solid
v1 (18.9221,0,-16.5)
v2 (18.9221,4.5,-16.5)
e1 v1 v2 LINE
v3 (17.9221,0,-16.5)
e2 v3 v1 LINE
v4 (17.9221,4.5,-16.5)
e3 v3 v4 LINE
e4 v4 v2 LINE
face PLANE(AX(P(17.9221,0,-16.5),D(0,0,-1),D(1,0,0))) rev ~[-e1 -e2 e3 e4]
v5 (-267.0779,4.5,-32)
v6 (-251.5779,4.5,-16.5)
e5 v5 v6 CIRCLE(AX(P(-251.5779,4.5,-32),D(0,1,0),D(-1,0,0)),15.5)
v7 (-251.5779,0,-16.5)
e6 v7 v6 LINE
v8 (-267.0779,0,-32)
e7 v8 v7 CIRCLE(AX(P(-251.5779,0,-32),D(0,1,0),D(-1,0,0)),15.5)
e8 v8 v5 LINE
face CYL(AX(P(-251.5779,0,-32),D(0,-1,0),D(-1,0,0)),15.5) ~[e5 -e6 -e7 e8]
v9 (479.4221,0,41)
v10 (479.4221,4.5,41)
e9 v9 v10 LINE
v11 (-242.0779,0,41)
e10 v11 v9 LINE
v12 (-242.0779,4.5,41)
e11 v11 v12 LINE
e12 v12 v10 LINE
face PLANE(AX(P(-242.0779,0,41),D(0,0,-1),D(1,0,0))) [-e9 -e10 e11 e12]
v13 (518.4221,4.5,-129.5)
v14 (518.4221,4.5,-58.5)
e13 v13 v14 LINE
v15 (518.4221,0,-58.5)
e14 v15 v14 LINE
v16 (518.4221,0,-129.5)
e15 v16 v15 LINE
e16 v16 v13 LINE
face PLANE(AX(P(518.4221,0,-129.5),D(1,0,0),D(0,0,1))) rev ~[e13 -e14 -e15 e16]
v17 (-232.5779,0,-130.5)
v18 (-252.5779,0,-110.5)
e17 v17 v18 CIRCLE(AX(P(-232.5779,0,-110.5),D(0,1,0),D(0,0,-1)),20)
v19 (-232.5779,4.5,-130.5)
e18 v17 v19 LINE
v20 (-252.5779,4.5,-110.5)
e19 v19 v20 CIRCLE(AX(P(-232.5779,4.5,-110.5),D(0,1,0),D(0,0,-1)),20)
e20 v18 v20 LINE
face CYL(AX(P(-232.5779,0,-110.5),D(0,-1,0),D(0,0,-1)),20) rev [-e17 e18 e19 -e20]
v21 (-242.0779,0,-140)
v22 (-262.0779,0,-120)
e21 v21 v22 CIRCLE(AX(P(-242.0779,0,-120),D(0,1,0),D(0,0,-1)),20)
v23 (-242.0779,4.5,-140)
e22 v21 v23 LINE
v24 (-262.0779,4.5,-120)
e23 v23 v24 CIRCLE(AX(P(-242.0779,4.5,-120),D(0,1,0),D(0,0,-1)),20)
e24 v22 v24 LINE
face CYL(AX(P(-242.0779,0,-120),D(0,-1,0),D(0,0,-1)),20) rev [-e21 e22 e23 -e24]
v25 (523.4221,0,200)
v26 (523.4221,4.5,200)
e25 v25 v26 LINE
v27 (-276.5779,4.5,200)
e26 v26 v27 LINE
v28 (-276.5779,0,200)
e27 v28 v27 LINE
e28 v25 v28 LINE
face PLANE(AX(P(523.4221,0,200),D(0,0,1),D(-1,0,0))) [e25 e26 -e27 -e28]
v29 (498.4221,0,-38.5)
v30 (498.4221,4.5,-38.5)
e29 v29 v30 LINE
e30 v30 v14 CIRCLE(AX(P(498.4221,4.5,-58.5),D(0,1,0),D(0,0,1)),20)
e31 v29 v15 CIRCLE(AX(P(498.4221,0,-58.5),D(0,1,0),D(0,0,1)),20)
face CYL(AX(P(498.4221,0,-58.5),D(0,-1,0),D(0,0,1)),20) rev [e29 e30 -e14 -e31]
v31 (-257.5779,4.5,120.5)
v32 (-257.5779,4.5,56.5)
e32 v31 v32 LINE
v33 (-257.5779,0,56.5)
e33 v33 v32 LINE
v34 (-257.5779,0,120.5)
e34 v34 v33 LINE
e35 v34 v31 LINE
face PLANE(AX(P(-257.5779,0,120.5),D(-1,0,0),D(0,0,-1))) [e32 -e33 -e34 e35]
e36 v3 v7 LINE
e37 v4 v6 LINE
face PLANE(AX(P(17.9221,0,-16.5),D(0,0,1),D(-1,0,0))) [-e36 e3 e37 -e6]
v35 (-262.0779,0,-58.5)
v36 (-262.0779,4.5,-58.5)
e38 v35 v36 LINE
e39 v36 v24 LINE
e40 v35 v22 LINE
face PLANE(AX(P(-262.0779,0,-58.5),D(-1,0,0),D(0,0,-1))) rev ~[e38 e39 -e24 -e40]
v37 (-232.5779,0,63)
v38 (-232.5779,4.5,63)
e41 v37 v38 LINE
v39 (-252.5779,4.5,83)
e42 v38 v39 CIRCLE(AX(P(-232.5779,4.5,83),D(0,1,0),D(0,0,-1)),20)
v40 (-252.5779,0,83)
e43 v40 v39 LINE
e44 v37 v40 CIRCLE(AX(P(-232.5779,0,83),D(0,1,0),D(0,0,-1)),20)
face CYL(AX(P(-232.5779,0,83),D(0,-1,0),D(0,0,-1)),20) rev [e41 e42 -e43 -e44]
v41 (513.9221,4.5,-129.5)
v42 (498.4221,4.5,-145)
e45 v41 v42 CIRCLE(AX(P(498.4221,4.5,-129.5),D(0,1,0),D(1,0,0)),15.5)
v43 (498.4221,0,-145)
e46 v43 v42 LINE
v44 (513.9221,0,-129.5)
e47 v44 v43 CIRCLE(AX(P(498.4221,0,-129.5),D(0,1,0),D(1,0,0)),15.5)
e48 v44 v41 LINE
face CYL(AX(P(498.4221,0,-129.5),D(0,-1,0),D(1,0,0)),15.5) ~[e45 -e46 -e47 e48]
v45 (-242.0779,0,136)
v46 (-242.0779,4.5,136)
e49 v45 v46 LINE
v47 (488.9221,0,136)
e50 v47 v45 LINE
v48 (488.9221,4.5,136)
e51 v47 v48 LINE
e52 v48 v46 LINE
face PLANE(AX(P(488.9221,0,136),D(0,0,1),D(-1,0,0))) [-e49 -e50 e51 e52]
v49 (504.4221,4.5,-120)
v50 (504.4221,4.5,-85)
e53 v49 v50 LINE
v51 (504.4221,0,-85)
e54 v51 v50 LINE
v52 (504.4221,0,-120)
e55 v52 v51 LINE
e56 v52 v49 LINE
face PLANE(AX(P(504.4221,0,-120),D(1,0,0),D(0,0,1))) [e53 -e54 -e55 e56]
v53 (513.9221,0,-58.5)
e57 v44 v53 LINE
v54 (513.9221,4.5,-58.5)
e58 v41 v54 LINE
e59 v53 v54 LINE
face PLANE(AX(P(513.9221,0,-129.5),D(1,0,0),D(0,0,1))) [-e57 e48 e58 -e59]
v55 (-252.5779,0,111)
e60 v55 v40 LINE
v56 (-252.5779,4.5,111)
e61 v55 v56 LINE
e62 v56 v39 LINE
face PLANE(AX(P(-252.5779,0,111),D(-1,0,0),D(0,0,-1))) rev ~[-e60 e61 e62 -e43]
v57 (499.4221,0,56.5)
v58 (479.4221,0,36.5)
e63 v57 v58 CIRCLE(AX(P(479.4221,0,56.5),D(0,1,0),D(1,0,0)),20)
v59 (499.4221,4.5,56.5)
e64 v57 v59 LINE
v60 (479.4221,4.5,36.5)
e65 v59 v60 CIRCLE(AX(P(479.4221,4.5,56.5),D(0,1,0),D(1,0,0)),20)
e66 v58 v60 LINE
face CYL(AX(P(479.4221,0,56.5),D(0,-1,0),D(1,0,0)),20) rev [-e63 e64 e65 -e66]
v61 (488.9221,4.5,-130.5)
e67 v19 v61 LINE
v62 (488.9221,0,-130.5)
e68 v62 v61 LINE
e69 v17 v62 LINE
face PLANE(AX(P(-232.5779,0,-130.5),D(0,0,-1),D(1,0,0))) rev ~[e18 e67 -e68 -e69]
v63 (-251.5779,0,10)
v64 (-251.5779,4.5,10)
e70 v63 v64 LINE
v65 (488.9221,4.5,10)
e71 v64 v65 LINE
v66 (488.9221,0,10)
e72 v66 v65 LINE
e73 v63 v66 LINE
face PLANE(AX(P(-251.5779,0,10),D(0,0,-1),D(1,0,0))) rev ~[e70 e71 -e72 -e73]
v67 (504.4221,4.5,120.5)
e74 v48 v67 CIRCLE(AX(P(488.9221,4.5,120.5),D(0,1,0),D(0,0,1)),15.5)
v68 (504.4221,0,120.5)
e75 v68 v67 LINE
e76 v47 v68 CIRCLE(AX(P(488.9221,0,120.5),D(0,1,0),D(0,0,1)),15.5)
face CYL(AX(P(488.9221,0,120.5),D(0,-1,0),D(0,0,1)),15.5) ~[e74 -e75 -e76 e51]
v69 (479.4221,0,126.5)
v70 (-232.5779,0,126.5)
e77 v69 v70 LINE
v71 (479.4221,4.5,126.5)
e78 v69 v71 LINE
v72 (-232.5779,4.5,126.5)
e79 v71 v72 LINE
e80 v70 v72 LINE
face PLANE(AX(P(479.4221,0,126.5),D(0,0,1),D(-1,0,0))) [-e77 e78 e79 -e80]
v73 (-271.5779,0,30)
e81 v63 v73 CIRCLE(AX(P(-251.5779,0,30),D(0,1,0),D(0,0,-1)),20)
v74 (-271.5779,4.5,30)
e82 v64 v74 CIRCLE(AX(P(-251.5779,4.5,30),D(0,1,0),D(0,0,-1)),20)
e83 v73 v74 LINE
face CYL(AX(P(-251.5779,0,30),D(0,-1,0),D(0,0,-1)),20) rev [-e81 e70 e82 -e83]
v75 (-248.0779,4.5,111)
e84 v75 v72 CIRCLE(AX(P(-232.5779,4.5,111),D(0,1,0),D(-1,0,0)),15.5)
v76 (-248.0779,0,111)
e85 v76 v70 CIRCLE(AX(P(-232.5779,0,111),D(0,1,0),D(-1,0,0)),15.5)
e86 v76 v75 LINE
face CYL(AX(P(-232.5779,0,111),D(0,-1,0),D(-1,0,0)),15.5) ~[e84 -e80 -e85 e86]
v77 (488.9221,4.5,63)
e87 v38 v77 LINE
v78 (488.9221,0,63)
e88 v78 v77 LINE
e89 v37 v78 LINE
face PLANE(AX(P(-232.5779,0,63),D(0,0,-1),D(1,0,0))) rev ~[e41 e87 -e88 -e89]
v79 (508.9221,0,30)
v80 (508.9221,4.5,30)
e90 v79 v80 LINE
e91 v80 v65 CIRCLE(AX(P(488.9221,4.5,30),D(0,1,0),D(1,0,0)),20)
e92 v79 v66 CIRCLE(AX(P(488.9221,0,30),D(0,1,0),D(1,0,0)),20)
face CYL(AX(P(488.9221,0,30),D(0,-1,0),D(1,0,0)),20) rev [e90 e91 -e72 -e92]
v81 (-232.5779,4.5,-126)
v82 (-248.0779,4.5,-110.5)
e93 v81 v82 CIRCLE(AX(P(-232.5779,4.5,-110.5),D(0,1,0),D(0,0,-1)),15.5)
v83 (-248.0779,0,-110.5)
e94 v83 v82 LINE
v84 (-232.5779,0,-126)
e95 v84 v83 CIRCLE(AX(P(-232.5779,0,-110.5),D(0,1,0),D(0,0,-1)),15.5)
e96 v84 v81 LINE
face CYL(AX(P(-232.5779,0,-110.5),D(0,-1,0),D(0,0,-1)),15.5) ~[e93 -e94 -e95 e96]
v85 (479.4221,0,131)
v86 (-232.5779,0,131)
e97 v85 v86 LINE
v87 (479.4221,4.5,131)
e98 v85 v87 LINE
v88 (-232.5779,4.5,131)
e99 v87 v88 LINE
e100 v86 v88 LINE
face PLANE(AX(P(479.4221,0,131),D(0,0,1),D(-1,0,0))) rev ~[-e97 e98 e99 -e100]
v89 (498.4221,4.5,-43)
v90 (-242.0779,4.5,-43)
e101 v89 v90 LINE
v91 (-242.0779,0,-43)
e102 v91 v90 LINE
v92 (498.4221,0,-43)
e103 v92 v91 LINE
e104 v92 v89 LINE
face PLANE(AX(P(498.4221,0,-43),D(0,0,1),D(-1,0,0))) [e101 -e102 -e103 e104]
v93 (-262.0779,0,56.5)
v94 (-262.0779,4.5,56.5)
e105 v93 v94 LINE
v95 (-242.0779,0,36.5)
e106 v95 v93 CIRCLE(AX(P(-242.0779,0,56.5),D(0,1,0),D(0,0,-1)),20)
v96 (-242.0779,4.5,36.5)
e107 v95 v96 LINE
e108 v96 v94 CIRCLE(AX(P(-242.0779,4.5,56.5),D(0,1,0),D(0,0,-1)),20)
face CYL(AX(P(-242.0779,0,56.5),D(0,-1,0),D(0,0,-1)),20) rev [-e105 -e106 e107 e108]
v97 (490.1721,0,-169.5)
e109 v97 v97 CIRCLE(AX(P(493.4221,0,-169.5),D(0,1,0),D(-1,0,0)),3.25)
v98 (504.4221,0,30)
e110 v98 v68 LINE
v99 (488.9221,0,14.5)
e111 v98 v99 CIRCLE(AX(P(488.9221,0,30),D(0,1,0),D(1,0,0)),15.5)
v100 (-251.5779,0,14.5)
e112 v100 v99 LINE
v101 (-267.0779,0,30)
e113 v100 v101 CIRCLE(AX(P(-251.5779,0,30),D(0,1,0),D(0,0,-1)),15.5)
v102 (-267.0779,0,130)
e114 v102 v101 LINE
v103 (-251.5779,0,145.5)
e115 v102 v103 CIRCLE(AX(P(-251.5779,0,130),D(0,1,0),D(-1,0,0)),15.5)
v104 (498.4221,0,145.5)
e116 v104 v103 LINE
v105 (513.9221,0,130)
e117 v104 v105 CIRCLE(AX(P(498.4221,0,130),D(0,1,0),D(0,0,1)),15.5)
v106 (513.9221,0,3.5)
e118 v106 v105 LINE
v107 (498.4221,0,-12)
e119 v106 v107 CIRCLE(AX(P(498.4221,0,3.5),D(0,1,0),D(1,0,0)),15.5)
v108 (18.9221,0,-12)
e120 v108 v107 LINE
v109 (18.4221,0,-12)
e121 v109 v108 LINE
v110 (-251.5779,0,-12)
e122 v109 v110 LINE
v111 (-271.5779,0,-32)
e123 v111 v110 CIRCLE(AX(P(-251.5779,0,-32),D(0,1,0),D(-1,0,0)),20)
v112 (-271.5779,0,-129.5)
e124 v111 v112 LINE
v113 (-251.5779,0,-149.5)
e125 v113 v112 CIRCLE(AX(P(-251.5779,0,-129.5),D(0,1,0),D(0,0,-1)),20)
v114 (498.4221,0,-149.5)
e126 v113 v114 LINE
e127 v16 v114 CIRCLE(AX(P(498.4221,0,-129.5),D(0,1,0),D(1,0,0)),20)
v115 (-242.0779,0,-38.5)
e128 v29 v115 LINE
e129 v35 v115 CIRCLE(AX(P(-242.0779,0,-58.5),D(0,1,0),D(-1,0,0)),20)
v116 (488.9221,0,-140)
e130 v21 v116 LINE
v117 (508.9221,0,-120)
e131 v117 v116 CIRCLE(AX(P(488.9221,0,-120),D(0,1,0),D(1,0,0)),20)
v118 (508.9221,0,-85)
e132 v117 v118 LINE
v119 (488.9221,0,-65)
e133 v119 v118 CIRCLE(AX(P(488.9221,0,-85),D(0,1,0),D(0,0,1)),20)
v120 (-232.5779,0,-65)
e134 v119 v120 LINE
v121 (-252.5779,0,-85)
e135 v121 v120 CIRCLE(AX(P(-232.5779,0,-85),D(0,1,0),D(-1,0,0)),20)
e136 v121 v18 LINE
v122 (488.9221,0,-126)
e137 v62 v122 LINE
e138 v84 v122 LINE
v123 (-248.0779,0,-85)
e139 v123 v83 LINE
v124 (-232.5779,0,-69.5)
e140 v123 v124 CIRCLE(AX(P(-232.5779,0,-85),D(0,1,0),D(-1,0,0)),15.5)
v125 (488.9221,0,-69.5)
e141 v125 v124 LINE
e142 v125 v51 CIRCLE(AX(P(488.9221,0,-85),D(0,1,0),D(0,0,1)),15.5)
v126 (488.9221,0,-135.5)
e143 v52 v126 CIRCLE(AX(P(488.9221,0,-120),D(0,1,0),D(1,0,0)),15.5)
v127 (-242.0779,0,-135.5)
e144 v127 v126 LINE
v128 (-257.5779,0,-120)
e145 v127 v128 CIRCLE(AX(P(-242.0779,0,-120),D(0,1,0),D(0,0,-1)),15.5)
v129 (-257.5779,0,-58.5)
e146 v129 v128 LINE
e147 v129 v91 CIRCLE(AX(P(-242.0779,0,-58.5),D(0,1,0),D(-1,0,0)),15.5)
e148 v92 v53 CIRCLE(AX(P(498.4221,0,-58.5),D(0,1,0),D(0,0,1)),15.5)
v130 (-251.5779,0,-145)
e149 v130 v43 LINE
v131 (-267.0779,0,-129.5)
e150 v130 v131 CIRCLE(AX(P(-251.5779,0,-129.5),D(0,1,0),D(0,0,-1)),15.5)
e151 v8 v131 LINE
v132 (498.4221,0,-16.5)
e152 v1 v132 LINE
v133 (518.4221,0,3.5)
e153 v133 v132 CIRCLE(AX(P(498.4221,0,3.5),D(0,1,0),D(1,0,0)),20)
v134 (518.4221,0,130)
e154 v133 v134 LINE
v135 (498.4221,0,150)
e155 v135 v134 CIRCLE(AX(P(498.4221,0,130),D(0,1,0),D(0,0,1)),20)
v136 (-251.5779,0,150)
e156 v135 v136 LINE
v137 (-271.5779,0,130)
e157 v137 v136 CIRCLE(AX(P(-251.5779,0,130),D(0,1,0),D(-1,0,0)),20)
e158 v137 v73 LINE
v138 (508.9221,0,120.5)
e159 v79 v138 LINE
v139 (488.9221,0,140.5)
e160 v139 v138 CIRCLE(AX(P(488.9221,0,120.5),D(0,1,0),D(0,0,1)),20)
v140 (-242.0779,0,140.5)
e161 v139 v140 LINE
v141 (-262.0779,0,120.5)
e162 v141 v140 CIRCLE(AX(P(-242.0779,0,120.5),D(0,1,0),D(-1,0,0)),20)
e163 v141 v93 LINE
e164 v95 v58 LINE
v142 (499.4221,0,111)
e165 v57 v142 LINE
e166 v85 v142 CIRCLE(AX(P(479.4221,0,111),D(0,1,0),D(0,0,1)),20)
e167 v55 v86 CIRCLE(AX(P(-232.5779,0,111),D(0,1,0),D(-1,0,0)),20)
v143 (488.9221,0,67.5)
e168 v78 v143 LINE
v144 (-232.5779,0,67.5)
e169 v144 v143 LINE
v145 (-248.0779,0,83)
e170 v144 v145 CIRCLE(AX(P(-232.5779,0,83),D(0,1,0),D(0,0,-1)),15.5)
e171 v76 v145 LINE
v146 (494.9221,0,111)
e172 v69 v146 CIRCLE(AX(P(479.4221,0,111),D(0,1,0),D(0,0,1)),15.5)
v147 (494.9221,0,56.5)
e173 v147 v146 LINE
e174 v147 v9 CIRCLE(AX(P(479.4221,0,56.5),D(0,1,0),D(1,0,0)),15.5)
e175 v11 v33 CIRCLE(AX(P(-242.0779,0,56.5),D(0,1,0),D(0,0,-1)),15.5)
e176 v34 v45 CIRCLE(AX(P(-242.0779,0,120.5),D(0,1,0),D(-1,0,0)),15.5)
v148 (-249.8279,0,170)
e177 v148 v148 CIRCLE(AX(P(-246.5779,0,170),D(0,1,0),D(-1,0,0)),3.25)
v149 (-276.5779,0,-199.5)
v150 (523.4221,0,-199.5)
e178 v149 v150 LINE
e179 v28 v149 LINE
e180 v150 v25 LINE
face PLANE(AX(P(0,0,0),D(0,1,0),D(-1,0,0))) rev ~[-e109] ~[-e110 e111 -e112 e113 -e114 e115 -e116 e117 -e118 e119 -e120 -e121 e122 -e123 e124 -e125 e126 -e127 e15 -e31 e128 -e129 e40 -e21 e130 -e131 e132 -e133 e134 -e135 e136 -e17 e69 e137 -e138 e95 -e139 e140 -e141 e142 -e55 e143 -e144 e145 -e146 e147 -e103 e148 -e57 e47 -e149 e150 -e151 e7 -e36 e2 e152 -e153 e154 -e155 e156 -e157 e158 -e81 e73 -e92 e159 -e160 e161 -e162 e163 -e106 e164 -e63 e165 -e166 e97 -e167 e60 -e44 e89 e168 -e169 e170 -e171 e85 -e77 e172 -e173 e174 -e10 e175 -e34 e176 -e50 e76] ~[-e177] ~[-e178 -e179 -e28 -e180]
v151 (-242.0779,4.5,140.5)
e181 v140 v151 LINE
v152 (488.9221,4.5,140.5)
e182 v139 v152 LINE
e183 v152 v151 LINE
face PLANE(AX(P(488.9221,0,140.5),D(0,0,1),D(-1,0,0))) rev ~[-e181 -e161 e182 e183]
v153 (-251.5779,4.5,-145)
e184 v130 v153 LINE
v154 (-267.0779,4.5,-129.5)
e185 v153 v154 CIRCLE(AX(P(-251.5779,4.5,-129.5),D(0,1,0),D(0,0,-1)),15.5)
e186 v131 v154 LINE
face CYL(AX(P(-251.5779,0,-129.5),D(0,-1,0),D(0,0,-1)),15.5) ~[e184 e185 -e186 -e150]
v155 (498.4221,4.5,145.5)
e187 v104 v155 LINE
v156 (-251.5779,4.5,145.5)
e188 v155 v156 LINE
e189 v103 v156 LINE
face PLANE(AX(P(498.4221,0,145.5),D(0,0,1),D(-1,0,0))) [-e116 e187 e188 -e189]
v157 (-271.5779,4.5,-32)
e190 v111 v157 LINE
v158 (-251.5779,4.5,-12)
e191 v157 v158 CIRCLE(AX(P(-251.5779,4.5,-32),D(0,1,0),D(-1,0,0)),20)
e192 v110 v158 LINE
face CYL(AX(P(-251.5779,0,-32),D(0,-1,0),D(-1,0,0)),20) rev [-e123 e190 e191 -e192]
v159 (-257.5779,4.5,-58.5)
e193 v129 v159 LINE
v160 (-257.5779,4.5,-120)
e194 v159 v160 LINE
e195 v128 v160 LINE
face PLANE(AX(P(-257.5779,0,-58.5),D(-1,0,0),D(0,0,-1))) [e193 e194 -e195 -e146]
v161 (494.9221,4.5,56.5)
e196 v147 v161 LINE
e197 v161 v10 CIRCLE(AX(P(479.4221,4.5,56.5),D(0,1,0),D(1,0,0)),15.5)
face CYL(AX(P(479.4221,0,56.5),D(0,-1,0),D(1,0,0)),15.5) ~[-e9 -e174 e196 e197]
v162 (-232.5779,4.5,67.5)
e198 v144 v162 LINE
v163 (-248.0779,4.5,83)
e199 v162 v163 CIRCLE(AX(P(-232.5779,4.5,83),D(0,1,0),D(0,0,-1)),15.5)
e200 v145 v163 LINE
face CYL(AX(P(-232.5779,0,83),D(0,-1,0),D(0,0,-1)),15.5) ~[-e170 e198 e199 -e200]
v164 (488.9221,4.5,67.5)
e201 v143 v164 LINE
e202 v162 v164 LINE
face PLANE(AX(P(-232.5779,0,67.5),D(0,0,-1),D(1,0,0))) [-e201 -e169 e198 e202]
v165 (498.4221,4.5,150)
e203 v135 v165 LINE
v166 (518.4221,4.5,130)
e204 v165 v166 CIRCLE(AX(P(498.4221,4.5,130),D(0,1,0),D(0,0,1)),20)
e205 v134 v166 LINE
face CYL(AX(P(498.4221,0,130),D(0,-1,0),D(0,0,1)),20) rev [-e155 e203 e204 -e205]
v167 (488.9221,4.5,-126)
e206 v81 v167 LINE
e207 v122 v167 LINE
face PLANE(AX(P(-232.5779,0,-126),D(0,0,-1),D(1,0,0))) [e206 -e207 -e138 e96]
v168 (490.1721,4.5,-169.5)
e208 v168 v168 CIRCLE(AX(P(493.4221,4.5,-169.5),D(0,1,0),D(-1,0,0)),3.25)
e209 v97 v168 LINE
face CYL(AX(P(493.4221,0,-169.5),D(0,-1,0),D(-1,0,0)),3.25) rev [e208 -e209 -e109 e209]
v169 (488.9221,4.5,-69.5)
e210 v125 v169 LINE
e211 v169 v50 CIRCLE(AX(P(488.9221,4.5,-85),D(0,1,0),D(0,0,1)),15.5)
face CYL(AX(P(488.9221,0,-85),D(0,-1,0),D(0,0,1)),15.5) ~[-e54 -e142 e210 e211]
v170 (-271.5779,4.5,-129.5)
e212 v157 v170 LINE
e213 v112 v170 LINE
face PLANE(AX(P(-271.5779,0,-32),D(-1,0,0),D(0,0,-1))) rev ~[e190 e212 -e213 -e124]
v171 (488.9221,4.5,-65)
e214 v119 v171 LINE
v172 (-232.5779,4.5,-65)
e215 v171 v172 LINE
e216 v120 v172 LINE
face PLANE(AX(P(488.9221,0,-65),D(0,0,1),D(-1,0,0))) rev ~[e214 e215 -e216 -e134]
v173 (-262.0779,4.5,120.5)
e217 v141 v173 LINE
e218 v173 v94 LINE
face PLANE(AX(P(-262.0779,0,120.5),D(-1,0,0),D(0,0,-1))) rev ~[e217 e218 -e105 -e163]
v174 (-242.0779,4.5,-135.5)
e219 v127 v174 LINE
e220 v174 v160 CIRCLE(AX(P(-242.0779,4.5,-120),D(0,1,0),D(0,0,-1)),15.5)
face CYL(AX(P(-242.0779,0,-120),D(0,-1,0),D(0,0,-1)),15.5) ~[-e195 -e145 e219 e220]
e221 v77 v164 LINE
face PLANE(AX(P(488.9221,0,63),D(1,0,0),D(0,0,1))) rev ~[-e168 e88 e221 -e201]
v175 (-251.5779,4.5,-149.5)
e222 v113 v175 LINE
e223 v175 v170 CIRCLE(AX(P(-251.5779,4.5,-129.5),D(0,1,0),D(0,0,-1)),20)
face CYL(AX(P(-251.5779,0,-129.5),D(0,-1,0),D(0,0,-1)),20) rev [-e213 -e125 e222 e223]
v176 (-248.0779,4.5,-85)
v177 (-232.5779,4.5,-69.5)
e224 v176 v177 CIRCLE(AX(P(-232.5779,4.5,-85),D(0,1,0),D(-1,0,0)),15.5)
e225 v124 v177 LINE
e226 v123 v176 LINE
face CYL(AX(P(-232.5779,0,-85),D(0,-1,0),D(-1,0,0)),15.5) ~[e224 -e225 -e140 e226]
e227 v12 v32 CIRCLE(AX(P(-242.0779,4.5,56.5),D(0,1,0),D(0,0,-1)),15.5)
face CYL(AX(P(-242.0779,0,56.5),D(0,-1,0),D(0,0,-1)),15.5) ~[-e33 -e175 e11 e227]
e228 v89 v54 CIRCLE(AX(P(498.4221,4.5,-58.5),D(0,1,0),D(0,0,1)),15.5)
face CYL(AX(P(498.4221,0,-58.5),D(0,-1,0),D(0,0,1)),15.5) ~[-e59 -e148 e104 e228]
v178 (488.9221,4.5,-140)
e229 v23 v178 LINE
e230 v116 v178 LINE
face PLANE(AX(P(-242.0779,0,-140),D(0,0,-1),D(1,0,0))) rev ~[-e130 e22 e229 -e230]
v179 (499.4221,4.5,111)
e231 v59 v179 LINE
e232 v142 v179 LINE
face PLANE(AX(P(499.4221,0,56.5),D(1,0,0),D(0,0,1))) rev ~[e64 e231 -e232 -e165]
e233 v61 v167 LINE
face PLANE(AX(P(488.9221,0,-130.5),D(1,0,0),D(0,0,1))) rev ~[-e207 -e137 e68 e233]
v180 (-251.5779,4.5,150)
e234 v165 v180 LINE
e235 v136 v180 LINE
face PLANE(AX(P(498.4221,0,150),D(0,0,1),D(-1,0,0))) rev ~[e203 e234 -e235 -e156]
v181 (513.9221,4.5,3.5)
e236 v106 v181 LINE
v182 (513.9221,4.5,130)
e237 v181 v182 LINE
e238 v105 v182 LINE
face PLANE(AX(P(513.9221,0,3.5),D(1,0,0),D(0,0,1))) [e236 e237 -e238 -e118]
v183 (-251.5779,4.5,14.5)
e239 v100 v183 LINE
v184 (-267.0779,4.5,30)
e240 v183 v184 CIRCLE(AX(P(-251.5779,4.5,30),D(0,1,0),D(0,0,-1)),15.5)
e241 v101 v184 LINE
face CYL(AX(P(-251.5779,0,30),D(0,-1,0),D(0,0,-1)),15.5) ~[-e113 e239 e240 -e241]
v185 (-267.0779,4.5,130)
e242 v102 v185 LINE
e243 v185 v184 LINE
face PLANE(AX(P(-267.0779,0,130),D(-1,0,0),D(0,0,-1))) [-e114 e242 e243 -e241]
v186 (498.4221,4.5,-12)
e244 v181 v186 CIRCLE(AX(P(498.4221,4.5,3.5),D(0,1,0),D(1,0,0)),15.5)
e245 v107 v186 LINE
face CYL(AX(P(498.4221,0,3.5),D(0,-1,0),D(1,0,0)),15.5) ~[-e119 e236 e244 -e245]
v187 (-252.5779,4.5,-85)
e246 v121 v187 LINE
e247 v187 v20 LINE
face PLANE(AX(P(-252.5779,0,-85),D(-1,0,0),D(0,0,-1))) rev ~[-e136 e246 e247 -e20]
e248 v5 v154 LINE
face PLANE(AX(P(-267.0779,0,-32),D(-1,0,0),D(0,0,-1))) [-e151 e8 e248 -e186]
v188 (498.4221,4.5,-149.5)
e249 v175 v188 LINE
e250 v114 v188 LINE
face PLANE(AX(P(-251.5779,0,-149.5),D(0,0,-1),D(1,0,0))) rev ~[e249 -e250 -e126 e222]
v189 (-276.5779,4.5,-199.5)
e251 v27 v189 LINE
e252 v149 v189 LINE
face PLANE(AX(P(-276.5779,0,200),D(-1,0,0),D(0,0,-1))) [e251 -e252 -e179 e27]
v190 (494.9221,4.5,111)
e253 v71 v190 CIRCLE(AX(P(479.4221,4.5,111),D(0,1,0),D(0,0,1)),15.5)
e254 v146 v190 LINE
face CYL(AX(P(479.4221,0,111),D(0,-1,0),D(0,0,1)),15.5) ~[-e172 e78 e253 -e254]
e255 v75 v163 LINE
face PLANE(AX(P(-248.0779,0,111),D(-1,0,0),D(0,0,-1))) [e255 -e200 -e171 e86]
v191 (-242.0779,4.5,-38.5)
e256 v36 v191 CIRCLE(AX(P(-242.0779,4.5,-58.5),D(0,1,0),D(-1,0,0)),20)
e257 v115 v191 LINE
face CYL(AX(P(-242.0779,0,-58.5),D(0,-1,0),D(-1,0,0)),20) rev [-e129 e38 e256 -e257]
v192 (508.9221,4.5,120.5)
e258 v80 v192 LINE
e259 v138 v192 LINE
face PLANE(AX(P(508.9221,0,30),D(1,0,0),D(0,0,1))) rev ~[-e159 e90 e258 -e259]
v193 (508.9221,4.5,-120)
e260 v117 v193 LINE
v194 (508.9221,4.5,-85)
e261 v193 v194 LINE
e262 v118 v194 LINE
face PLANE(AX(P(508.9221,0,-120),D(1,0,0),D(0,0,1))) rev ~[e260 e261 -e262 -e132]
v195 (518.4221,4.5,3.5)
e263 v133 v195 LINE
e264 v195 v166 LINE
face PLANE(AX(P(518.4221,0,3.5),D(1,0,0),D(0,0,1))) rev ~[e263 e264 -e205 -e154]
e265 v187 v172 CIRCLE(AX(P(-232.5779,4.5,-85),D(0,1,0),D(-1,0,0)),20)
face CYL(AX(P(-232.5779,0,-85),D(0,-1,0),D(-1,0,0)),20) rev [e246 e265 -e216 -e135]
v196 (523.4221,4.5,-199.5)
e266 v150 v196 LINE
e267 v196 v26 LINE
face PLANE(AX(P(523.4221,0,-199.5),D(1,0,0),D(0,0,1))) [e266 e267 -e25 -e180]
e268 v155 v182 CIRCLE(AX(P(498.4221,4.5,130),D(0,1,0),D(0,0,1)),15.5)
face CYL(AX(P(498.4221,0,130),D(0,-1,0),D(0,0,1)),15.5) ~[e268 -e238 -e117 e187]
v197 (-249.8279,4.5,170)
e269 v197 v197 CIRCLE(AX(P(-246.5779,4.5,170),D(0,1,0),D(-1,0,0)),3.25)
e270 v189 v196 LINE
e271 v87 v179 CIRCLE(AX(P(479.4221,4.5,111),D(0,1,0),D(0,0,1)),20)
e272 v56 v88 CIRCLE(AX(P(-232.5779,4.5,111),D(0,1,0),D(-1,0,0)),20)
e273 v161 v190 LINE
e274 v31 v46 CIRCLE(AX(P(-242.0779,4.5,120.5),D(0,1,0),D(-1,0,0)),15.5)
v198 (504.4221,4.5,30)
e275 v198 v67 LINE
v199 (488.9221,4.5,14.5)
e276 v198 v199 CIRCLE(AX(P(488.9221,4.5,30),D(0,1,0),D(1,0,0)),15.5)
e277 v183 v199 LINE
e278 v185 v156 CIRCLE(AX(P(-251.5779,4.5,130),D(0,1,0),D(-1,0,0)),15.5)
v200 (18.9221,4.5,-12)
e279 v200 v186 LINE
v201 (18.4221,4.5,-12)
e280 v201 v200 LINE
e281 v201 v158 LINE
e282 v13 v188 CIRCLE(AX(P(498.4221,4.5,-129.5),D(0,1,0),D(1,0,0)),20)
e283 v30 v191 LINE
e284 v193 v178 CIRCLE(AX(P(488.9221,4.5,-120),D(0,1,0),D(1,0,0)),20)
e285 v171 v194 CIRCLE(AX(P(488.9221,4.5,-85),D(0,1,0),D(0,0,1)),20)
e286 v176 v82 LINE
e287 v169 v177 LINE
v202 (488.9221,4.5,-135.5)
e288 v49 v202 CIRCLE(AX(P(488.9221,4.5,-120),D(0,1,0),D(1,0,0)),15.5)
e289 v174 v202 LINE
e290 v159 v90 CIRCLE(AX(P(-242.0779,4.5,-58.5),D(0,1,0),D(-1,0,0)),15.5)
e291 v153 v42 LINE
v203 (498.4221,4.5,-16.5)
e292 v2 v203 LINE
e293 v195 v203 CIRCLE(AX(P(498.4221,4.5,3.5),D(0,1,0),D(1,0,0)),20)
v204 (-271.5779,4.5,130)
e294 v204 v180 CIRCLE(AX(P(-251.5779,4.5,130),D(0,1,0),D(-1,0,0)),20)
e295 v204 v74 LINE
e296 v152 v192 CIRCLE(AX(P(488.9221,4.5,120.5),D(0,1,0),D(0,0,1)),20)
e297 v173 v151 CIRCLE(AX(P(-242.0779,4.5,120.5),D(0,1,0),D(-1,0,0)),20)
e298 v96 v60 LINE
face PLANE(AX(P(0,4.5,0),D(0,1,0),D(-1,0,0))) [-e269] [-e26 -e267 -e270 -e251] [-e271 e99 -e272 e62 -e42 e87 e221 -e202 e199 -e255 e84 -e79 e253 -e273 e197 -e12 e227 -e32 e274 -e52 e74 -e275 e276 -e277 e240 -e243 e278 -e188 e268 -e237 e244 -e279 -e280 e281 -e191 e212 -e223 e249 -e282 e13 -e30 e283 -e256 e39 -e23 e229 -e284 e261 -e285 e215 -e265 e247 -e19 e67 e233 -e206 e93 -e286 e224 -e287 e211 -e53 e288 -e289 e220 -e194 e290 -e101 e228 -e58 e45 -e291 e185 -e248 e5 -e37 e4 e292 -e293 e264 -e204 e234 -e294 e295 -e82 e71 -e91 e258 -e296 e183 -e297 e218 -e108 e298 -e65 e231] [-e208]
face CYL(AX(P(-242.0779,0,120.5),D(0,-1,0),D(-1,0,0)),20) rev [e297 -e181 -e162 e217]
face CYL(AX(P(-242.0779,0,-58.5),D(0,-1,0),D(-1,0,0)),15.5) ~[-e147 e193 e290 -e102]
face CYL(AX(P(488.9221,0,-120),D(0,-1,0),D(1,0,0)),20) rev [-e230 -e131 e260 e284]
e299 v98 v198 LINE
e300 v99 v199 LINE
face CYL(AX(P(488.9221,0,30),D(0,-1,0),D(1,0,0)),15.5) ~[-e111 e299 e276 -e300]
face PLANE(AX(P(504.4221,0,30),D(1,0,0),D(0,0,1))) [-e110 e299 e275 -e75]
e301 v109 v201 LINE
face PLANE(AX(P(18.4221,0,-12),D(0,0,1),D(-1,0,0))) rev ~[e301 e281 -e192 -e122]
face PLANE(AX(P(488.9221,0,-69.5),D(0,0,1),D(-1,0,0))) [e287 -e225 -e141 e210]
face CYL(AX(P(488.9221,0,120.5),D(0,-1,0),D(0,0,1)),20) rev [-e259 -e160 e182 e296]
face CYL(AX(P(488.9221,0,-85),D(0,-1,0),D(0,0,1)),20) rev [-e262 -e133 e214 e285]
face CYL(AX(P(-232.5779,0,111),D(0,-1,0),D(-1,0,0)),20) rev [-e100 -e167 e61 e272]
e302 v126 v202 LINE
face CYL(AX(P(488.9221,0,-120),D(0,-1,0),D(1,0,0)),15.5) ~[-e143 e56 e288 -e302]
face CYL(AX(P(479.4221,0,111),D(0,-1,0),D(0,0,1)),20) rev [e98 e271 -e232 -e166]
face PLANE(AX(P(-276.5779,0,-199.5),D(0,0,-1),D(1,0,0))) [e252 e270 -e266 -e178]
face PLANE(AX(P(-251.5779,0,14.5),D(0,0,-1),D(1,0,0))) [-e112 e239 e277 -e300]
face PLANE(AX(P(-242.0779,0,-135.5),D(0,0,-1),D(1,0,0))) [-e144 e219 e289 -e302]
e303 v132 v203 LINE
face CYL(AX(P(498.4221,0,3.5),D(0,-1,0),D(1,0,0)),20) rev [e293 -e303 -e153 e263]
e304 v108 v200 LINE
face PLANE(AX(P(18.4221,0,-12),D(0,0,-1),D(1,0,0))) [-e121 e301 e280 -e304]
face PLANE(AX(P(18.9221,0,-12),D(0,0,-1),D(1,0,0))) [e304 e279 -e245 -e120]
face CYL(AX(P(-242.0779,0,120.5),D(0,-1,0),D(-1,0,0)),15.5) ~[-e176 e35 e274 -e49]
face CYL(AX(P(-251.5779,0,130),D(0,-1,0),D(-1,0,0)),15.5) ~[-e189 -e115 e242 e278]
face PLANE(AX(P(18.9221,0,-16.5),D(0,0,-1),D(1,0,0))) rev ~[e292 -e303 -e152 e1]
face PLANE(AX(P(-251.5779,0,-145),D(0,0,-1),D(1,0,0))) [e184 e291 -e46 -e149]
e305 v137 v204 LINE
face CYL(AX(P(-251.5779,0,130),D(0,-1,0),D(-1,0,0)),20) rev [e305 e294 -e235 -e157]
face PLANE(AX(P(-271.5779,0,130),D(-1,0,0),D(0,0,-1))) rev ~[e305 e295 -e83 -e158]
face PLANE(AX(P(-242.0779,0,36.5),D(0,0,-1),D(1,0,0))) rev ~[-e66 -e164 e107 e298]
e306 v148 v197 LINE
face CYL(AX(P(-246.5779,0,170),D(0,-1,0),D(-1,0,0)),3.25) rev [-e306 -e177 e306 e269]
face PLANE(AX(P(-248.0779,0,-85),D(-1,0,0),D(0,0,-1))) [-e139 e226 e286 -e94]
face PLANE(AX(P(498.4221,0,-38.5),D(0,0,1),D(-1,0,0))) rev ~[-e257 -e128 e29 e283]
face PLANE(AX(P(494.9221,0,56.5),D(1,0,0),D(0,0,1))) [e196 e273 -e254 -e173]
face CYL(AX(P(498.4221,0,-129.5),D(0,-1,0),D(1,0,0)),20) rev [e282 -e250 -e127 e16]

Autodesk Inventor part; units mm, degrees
ref_plane "YZ Plane" through (0, 0, 0) normal (1, 0, 0) x (0, 1, 0)
ref_plane "XZ Plane" through (0, 0, 0) normal (0, 1, 0) x (-1, 0, 0)
ref_plane "XY Plane" through (0, 0, 0) normal (0, 0, 1) x (1, 0, 0)
sketch "Sketch1" plane through (0, 0, 0) normal (0, 1, 0) x (-1, 0, 0)
  line L0 (-17.9221, -16.5) -> (-498.4221, -16.5)
  line L1 (-518.4221, 3.5) -> (-518.4221, 130)
  line L2 (-498.4221, 150) -> (251.5779, 150)
  line L3 (271.5779, 130) -> (271.5779, 30)
  line L4 (-18.4221, -12) -> (-498.4221, -12)
  line L5 (-513.9221, 3.5) -> (-513.9221, 130)
  line L6 (-498.4221, 145.5) -> (251.5779, 145.5)
  line L7 (267.0779, 130) -> (267.0779, 30)
  line L8 (251.5779, 14.5) -> (-488.9221, 14.5)
  line L9 (-504.4221, 30) -> (-504.4221, 120.5)
  line L10 (251.5779, 10) -> (-488.9221, 10)
  line L11 (-508.9221, 30) -> (-508.9221, 120.5)
  line L12 (-488.9221, 136) -> (242.0779, 136)
  line L13 (-488.9221, 140.5) -> (242.0779, 140.5)
  line L14 (257.5779, 120.5) -> (257.5779, 56.5)
  line L15 (242.0779, 41) -> (-479.4221, 41)
  line L16 (262.0779, 120.5) -> (262.0779, 56.5)
  line L17 (242.0779, 36.5) -> (-479.4221, 36.5)
  line L18 (-494.9221, 56.5) -> (-494.9221, 111)
  line L19 (-479.4221, 126.5) -> (232.5779, 126.5)
  line L20 (248.0779, 111) -> (248.0779, 83)
  line L21 (232.5779, 67.5) -> (-488.9221, 67.5)
  line L22 (-499.4221, 56.5) -> (-499.4221, 111)
  line L23 (-479.4221, 131) -> (232.5779, 131)
  line L24 (252.5779, 111) -> (252.5779, 83)
  line L25 (232.5779, 63) -> (-488.9221, 63)
  line L26 (-122.9221, 150) -> (-122.9221, -150) construction
  line L27 (-18.9221, -12) -> (251.5779, -12)
  line L28 (271.5779, -32) -> (271.5779, -129.5)
  line L29 (251.5779, -149.5) -> (-498.4221, -149.5)
  line L30 (-518.4221, -129.5) -> (-518.4221, -58.5)
  line L31 (-18.9221, -16.5) -> (251.5779, -16.5)
  line L32 (267.0779, -32) -> (267.0779, -129.5)
  line L33 (251.5779, -145) -> (-498.4221, -145)
  line L34 (-498.4221, -38.5) -> (242.0779, -38.5)
  line L35 (262.0779, -58.5) -> (262.0779, -120)
  line L36 (242.0779, -140) -> (-488.9221, -140)
  line L37 (-513.9221, -129.5) -> (-513.9221, -58.5)
  line L38 (-498.4221, -43) -> (242.0779, -43)
  line L39 (257.5779, -58.5) -> (257.5779, -120)
  line L40 (242.0779, -135.5) -> (-488.9221, -135.5)
  line L41 (-504.4221, -120) -> (-504.4221, -85)
  line L42 (-508.9221, -120) -> (-508.9221, -85)
  line L43 (-488.9221, -65) -> (232.5779, -65)
  line L44 (252.5779, -85) -> (252.5779, -110.5)
  line L45 (-488.9221, -69.5) -> (232.5779, -69.5)
  line L46 (248.0779, -85) -> (248.0779, -110.5)
  line L47 (232.5779, -126) -> (-488.9221, -126)
  line L48 (232.5779, -130.5) -> (-488.9221, -130.5)
  line L49 (276.5779, 200.5) -> (276.5779, -199.5)
  line L50 (276.5779, -199.5) -> (-523.4221, -199.5)
  line L51 (-523.4221, -199.5) -> (-523.4221, 200)
  line L52 (-523.4221, 200) -> (276.5779, 200)
  line L53 (276.5779, 200) -> (276.5779, -199.5)
  arc A0 (251.5779, -149.5) -> (271.5779, -129.5) centre (251.5779, -129.5) ccw
  arc A1 (251.5779, -145) -> (267.0779, -129.5) centre (251.5779, -129.5) ccw
  arc A2 (242.0779, -135.5) -> (257.5779, -120) centre (242.0779, -120) ccw
  arc A3 (242.0779, -140) -> (262.0779, -120) centre (242.0779, -120) ccw
  arc A4 (232.5779, -130.5) -> (252.5779, -110.5) centre (232.5779, -110.5) ccw
  arc A5 (232.5779, -126) -> (248.0779, -110.5) centre (232.5779, -110.5) ccw
  arc A6 (248.0779, -85) -> (232.5779, -69.5) centre (232.5779, -85) ccw
  arc A7 (252.5779, -85) -> (232.5779, -65) centre (232.5779, -85) ccw
  line L54 (266.0656, -58.5) -> (242.0779, -58.5) construction
  line L55 (242.0779, -58.5) -> (242.0779, -27) construction
  arc A8 (257.5779, -58.5) -> (242.0779, -43) centre (242.0779, -58.5) ccw
  arc A9 (262.0779, -58.5) -> (242.0779, -38.5) centre (242.0779, -58.5) ccw
  line L56 (251.5779, -3.7302) -> (251.5779, -32) construction
  line L57 (251.5779, -32) -> (272.6377, -32) construction
  arc A10 (267.0779, -32) -> (251.5779, -16.5) centre (251.5779, -32) ccw
  arc A11 (271.5779, -32) -> (251.5779, -12) centre (251.5779, -32) ccw
  arc A12 (-518.4221, -129.5) -> (-498.4221, -149.5) centre (-498.4221, -129.5) ccw
  arc A13 (-513.9221, -129.5) -> (-498.4221, -145) centre (-498.4221, -129.5) ccw
  arc A14 (-508.9221, -120) -> (-488.9221, -140) centre (-488.9221, -120) ccw
  line L58 (-488.9221, -130.5) -> (-488.9221, -126)
  arc A15 (-504.4221, -120) -> (-488.9221, -135.5) centre (-488.9221, -120) ccw
  arc A16 (-488.9221, -65) -> (-508.9221, -85) centre (-488.9221, -85) ccw
  arc A17 (-488.9221, -69.5) -> (-504.4221, -85) centre (-488.9221, -85) ccw
  arc A18 (-498.4221, -43) -> (-513.9221, -58.5) centre (-498.4221, -58.5) ccw
  arc A19 (-498.4221, -38.5) -> (-518.4221, -58.5) centre (-498.4221, -58.5) ccw
  line L59 (-488.9221, 63) -> (-488.9221, 67.5)
  arc A20 (-518.4221, 3.5) -> (-498.4221, -16.5) centre (-498.4221, 3.5) ccw
  arc A21 (-513.9221, 3.5) -> (-498.4221, -12) centre (-498.4221, 3.5) ccw
  arc A22 (-508.9221, 30) -> (-488.9221, 10) centre (-488.9221, 30) ccw
  arc A23 (-504.4221, 30) -> (-488.9221, 14.5) centre (-488.9221, 30) ccw
  arc A24 (-499.4221, 56.5) -> (-479.4221, 36.5) centre (-479.4221, 56.5) ccw
  arc A25 (-494.9221, 56.5) -> (-479.4221, 41) centre (-479.4221, 56.5) ccw
  arc A26 (-479.4221, 126.5) -> (-494.9221, 111) centre (-479.4221, 111) ccw
  arc A27 (-479.4221, 131) -> (-499.4221, 111) centre (-479.4221, 111) ccw
  arc A28 (-488.9221, 136) -> (-504.4221, 120.5) centre (-488.9221, 120.5) ccw
  arc A29 (-488.9221, 140.5) -> (-508.9221, 120.5) centre (-488.9221, 120.5) ccw
  arc A30 (-498.4221, 145.5) -> (-513.9221, 130) centre (-498.4221, 130) ccw
  arc A31 (-498.4221, 150) -> (-518.4221, 130) centre (-498.4221, 130) ccw
  arc A32 (251.5779, 10) -> (271.5779, 30) centre (251.5779, 30) ccw
  arc A33 (251.5779, 14.5) -> (267.0779, 30) centre (251.5779, 30) ccw
  arc A34 (242.0779, 41) -> (257.5779, 56.5) centre (242.0779, 56.5) ccw
  arc A35 (242.0779, 36.5) -> (262.0779, 56.5) centre (242.0779, 56.5) ccw
  arc A36 (232.5779, 63) -> (252.5779, 83) centre (232.5779, 83) ccw
  arc A37 (232.5779, 67.5) -> (248.0779, 83) centre (232.5779, 83) ccw
  arc A38 (248.0779, 111) -> (232.5779, 126.5) centre (232.5779, 111) ccw
  arc A39 (252.5779, 111) -> (232.5779, 131) centre (232.5779, 111) ccw
  arc A40 (257.5779, 120.5) -> (242.0779, 136) centre (242.0779, 120.5) ccw
  arc A41 (262.0779, 120.5) -> (242.0779, 140.5) centre (242.0779, 120.5) ccw
  arc A42 (267.0779, 130) -> (251.5779, 145.5) centre (251.5779, 130) ccw
  arc A43 (271.5779, 130) -> (251.5779, 150) centre (251.5779, 130) ccw
  circle A44 centre (-493.4221, -169.5) radius 3.25
  circle A45 centre (246.5779, 170) radius 3.25
  point P0 (-228.4221, 0)
  point P1 (276.5779, 200)
  point P2 (257.5779, -126)
  dimension "d2" = 4.5
  dimension "d3" = 4.5
  dimension "d4" = 4.5
  dimension "d5" = 5
  dimension "d6" = 5
  dimension "d7" = 4.5
  dimension "d8" = 4.5
  dimension "d9" = 4.5
  dimension "d10" = 5
  dimension "d11" = 790
  dimension "d12" = 22
  dimension "d13" = 4.5
  dimension "d14" = 4.5
  dimension "d15" = 22
  dimension "d16" = 5
  dimension "d17" = 5
  dimension "d18" = 4.5
  dimension "d19" = 5
  dimension "d20" = 22
  dimension "d21" = 4.5
  dimension "d22" = 4.5
  dimension "d23" = 4.5
  dimension "d30" = 4.5
  dimension "d31" = 4.5
  dimension "d32" = 4.5
  dimension "d34" = 500
  dimension "d35" = 4.5
  dimension "d36" = 4.5
  dimension "d38" = 4.5
  dimension "d39" = 22
  dimension "d40" = 4.5
  dimension "d41" = 5
  dimension "d42" = 4.5
  dimension "d43" = 4.5
  dimension "d44" = 4.5
  dimension "d46" = 22
  dimension "d47" = 5
  dimension "d48" = 4.5
  dimension "d49" = 5
  dimension "d63" = 400
  dimension "d64" = 50
  dimension "d65" = 5
  dimension "d68" = 5
  dimension "d80" = 4.5
  dimension "d81" = 0
  dimension "d103" = 5
  dimension "d126" = 30
  dimension "d127" = 6.5
  dimension "d128" = 30
  dimension "d129" = 6.5
  dimension "d130" = 30
  dimension "d131" = 30
extrude "Extrusion2" add sketch "Sketch1" along normal blind 4.5
equation "\"d6\" = d26"
equation "\"d10\" = d26"
equation "\"d15\" = d28"
equation "\"d16\" = d26"
equation "\"d19\" = d25"
equation "\"d20\" = d28"
equation "\"d34\" = 0.5 * d52"
equation "\"d41\" = d53"
equation "\"d46\" = d54"
equation "\"d47\" = d53"
equation "\"d49\" = d53"
equation "\"d25\" = 5"
equation "\"d26\" = 5"
equation "\"d28\" = -1.2 * d25 + 0.2 * d29"
equation "\"d51\" = 5"
equation "\"d53\" = 5"
equation "\"d54\" = -1.2 * d51 + 0.2 * d55"
equation "\"d29\" = 140"
equation "\"d55\" = 140"
equation "\"d52\" = 1000"
properties part number "wire_holder_lasercutting800"
